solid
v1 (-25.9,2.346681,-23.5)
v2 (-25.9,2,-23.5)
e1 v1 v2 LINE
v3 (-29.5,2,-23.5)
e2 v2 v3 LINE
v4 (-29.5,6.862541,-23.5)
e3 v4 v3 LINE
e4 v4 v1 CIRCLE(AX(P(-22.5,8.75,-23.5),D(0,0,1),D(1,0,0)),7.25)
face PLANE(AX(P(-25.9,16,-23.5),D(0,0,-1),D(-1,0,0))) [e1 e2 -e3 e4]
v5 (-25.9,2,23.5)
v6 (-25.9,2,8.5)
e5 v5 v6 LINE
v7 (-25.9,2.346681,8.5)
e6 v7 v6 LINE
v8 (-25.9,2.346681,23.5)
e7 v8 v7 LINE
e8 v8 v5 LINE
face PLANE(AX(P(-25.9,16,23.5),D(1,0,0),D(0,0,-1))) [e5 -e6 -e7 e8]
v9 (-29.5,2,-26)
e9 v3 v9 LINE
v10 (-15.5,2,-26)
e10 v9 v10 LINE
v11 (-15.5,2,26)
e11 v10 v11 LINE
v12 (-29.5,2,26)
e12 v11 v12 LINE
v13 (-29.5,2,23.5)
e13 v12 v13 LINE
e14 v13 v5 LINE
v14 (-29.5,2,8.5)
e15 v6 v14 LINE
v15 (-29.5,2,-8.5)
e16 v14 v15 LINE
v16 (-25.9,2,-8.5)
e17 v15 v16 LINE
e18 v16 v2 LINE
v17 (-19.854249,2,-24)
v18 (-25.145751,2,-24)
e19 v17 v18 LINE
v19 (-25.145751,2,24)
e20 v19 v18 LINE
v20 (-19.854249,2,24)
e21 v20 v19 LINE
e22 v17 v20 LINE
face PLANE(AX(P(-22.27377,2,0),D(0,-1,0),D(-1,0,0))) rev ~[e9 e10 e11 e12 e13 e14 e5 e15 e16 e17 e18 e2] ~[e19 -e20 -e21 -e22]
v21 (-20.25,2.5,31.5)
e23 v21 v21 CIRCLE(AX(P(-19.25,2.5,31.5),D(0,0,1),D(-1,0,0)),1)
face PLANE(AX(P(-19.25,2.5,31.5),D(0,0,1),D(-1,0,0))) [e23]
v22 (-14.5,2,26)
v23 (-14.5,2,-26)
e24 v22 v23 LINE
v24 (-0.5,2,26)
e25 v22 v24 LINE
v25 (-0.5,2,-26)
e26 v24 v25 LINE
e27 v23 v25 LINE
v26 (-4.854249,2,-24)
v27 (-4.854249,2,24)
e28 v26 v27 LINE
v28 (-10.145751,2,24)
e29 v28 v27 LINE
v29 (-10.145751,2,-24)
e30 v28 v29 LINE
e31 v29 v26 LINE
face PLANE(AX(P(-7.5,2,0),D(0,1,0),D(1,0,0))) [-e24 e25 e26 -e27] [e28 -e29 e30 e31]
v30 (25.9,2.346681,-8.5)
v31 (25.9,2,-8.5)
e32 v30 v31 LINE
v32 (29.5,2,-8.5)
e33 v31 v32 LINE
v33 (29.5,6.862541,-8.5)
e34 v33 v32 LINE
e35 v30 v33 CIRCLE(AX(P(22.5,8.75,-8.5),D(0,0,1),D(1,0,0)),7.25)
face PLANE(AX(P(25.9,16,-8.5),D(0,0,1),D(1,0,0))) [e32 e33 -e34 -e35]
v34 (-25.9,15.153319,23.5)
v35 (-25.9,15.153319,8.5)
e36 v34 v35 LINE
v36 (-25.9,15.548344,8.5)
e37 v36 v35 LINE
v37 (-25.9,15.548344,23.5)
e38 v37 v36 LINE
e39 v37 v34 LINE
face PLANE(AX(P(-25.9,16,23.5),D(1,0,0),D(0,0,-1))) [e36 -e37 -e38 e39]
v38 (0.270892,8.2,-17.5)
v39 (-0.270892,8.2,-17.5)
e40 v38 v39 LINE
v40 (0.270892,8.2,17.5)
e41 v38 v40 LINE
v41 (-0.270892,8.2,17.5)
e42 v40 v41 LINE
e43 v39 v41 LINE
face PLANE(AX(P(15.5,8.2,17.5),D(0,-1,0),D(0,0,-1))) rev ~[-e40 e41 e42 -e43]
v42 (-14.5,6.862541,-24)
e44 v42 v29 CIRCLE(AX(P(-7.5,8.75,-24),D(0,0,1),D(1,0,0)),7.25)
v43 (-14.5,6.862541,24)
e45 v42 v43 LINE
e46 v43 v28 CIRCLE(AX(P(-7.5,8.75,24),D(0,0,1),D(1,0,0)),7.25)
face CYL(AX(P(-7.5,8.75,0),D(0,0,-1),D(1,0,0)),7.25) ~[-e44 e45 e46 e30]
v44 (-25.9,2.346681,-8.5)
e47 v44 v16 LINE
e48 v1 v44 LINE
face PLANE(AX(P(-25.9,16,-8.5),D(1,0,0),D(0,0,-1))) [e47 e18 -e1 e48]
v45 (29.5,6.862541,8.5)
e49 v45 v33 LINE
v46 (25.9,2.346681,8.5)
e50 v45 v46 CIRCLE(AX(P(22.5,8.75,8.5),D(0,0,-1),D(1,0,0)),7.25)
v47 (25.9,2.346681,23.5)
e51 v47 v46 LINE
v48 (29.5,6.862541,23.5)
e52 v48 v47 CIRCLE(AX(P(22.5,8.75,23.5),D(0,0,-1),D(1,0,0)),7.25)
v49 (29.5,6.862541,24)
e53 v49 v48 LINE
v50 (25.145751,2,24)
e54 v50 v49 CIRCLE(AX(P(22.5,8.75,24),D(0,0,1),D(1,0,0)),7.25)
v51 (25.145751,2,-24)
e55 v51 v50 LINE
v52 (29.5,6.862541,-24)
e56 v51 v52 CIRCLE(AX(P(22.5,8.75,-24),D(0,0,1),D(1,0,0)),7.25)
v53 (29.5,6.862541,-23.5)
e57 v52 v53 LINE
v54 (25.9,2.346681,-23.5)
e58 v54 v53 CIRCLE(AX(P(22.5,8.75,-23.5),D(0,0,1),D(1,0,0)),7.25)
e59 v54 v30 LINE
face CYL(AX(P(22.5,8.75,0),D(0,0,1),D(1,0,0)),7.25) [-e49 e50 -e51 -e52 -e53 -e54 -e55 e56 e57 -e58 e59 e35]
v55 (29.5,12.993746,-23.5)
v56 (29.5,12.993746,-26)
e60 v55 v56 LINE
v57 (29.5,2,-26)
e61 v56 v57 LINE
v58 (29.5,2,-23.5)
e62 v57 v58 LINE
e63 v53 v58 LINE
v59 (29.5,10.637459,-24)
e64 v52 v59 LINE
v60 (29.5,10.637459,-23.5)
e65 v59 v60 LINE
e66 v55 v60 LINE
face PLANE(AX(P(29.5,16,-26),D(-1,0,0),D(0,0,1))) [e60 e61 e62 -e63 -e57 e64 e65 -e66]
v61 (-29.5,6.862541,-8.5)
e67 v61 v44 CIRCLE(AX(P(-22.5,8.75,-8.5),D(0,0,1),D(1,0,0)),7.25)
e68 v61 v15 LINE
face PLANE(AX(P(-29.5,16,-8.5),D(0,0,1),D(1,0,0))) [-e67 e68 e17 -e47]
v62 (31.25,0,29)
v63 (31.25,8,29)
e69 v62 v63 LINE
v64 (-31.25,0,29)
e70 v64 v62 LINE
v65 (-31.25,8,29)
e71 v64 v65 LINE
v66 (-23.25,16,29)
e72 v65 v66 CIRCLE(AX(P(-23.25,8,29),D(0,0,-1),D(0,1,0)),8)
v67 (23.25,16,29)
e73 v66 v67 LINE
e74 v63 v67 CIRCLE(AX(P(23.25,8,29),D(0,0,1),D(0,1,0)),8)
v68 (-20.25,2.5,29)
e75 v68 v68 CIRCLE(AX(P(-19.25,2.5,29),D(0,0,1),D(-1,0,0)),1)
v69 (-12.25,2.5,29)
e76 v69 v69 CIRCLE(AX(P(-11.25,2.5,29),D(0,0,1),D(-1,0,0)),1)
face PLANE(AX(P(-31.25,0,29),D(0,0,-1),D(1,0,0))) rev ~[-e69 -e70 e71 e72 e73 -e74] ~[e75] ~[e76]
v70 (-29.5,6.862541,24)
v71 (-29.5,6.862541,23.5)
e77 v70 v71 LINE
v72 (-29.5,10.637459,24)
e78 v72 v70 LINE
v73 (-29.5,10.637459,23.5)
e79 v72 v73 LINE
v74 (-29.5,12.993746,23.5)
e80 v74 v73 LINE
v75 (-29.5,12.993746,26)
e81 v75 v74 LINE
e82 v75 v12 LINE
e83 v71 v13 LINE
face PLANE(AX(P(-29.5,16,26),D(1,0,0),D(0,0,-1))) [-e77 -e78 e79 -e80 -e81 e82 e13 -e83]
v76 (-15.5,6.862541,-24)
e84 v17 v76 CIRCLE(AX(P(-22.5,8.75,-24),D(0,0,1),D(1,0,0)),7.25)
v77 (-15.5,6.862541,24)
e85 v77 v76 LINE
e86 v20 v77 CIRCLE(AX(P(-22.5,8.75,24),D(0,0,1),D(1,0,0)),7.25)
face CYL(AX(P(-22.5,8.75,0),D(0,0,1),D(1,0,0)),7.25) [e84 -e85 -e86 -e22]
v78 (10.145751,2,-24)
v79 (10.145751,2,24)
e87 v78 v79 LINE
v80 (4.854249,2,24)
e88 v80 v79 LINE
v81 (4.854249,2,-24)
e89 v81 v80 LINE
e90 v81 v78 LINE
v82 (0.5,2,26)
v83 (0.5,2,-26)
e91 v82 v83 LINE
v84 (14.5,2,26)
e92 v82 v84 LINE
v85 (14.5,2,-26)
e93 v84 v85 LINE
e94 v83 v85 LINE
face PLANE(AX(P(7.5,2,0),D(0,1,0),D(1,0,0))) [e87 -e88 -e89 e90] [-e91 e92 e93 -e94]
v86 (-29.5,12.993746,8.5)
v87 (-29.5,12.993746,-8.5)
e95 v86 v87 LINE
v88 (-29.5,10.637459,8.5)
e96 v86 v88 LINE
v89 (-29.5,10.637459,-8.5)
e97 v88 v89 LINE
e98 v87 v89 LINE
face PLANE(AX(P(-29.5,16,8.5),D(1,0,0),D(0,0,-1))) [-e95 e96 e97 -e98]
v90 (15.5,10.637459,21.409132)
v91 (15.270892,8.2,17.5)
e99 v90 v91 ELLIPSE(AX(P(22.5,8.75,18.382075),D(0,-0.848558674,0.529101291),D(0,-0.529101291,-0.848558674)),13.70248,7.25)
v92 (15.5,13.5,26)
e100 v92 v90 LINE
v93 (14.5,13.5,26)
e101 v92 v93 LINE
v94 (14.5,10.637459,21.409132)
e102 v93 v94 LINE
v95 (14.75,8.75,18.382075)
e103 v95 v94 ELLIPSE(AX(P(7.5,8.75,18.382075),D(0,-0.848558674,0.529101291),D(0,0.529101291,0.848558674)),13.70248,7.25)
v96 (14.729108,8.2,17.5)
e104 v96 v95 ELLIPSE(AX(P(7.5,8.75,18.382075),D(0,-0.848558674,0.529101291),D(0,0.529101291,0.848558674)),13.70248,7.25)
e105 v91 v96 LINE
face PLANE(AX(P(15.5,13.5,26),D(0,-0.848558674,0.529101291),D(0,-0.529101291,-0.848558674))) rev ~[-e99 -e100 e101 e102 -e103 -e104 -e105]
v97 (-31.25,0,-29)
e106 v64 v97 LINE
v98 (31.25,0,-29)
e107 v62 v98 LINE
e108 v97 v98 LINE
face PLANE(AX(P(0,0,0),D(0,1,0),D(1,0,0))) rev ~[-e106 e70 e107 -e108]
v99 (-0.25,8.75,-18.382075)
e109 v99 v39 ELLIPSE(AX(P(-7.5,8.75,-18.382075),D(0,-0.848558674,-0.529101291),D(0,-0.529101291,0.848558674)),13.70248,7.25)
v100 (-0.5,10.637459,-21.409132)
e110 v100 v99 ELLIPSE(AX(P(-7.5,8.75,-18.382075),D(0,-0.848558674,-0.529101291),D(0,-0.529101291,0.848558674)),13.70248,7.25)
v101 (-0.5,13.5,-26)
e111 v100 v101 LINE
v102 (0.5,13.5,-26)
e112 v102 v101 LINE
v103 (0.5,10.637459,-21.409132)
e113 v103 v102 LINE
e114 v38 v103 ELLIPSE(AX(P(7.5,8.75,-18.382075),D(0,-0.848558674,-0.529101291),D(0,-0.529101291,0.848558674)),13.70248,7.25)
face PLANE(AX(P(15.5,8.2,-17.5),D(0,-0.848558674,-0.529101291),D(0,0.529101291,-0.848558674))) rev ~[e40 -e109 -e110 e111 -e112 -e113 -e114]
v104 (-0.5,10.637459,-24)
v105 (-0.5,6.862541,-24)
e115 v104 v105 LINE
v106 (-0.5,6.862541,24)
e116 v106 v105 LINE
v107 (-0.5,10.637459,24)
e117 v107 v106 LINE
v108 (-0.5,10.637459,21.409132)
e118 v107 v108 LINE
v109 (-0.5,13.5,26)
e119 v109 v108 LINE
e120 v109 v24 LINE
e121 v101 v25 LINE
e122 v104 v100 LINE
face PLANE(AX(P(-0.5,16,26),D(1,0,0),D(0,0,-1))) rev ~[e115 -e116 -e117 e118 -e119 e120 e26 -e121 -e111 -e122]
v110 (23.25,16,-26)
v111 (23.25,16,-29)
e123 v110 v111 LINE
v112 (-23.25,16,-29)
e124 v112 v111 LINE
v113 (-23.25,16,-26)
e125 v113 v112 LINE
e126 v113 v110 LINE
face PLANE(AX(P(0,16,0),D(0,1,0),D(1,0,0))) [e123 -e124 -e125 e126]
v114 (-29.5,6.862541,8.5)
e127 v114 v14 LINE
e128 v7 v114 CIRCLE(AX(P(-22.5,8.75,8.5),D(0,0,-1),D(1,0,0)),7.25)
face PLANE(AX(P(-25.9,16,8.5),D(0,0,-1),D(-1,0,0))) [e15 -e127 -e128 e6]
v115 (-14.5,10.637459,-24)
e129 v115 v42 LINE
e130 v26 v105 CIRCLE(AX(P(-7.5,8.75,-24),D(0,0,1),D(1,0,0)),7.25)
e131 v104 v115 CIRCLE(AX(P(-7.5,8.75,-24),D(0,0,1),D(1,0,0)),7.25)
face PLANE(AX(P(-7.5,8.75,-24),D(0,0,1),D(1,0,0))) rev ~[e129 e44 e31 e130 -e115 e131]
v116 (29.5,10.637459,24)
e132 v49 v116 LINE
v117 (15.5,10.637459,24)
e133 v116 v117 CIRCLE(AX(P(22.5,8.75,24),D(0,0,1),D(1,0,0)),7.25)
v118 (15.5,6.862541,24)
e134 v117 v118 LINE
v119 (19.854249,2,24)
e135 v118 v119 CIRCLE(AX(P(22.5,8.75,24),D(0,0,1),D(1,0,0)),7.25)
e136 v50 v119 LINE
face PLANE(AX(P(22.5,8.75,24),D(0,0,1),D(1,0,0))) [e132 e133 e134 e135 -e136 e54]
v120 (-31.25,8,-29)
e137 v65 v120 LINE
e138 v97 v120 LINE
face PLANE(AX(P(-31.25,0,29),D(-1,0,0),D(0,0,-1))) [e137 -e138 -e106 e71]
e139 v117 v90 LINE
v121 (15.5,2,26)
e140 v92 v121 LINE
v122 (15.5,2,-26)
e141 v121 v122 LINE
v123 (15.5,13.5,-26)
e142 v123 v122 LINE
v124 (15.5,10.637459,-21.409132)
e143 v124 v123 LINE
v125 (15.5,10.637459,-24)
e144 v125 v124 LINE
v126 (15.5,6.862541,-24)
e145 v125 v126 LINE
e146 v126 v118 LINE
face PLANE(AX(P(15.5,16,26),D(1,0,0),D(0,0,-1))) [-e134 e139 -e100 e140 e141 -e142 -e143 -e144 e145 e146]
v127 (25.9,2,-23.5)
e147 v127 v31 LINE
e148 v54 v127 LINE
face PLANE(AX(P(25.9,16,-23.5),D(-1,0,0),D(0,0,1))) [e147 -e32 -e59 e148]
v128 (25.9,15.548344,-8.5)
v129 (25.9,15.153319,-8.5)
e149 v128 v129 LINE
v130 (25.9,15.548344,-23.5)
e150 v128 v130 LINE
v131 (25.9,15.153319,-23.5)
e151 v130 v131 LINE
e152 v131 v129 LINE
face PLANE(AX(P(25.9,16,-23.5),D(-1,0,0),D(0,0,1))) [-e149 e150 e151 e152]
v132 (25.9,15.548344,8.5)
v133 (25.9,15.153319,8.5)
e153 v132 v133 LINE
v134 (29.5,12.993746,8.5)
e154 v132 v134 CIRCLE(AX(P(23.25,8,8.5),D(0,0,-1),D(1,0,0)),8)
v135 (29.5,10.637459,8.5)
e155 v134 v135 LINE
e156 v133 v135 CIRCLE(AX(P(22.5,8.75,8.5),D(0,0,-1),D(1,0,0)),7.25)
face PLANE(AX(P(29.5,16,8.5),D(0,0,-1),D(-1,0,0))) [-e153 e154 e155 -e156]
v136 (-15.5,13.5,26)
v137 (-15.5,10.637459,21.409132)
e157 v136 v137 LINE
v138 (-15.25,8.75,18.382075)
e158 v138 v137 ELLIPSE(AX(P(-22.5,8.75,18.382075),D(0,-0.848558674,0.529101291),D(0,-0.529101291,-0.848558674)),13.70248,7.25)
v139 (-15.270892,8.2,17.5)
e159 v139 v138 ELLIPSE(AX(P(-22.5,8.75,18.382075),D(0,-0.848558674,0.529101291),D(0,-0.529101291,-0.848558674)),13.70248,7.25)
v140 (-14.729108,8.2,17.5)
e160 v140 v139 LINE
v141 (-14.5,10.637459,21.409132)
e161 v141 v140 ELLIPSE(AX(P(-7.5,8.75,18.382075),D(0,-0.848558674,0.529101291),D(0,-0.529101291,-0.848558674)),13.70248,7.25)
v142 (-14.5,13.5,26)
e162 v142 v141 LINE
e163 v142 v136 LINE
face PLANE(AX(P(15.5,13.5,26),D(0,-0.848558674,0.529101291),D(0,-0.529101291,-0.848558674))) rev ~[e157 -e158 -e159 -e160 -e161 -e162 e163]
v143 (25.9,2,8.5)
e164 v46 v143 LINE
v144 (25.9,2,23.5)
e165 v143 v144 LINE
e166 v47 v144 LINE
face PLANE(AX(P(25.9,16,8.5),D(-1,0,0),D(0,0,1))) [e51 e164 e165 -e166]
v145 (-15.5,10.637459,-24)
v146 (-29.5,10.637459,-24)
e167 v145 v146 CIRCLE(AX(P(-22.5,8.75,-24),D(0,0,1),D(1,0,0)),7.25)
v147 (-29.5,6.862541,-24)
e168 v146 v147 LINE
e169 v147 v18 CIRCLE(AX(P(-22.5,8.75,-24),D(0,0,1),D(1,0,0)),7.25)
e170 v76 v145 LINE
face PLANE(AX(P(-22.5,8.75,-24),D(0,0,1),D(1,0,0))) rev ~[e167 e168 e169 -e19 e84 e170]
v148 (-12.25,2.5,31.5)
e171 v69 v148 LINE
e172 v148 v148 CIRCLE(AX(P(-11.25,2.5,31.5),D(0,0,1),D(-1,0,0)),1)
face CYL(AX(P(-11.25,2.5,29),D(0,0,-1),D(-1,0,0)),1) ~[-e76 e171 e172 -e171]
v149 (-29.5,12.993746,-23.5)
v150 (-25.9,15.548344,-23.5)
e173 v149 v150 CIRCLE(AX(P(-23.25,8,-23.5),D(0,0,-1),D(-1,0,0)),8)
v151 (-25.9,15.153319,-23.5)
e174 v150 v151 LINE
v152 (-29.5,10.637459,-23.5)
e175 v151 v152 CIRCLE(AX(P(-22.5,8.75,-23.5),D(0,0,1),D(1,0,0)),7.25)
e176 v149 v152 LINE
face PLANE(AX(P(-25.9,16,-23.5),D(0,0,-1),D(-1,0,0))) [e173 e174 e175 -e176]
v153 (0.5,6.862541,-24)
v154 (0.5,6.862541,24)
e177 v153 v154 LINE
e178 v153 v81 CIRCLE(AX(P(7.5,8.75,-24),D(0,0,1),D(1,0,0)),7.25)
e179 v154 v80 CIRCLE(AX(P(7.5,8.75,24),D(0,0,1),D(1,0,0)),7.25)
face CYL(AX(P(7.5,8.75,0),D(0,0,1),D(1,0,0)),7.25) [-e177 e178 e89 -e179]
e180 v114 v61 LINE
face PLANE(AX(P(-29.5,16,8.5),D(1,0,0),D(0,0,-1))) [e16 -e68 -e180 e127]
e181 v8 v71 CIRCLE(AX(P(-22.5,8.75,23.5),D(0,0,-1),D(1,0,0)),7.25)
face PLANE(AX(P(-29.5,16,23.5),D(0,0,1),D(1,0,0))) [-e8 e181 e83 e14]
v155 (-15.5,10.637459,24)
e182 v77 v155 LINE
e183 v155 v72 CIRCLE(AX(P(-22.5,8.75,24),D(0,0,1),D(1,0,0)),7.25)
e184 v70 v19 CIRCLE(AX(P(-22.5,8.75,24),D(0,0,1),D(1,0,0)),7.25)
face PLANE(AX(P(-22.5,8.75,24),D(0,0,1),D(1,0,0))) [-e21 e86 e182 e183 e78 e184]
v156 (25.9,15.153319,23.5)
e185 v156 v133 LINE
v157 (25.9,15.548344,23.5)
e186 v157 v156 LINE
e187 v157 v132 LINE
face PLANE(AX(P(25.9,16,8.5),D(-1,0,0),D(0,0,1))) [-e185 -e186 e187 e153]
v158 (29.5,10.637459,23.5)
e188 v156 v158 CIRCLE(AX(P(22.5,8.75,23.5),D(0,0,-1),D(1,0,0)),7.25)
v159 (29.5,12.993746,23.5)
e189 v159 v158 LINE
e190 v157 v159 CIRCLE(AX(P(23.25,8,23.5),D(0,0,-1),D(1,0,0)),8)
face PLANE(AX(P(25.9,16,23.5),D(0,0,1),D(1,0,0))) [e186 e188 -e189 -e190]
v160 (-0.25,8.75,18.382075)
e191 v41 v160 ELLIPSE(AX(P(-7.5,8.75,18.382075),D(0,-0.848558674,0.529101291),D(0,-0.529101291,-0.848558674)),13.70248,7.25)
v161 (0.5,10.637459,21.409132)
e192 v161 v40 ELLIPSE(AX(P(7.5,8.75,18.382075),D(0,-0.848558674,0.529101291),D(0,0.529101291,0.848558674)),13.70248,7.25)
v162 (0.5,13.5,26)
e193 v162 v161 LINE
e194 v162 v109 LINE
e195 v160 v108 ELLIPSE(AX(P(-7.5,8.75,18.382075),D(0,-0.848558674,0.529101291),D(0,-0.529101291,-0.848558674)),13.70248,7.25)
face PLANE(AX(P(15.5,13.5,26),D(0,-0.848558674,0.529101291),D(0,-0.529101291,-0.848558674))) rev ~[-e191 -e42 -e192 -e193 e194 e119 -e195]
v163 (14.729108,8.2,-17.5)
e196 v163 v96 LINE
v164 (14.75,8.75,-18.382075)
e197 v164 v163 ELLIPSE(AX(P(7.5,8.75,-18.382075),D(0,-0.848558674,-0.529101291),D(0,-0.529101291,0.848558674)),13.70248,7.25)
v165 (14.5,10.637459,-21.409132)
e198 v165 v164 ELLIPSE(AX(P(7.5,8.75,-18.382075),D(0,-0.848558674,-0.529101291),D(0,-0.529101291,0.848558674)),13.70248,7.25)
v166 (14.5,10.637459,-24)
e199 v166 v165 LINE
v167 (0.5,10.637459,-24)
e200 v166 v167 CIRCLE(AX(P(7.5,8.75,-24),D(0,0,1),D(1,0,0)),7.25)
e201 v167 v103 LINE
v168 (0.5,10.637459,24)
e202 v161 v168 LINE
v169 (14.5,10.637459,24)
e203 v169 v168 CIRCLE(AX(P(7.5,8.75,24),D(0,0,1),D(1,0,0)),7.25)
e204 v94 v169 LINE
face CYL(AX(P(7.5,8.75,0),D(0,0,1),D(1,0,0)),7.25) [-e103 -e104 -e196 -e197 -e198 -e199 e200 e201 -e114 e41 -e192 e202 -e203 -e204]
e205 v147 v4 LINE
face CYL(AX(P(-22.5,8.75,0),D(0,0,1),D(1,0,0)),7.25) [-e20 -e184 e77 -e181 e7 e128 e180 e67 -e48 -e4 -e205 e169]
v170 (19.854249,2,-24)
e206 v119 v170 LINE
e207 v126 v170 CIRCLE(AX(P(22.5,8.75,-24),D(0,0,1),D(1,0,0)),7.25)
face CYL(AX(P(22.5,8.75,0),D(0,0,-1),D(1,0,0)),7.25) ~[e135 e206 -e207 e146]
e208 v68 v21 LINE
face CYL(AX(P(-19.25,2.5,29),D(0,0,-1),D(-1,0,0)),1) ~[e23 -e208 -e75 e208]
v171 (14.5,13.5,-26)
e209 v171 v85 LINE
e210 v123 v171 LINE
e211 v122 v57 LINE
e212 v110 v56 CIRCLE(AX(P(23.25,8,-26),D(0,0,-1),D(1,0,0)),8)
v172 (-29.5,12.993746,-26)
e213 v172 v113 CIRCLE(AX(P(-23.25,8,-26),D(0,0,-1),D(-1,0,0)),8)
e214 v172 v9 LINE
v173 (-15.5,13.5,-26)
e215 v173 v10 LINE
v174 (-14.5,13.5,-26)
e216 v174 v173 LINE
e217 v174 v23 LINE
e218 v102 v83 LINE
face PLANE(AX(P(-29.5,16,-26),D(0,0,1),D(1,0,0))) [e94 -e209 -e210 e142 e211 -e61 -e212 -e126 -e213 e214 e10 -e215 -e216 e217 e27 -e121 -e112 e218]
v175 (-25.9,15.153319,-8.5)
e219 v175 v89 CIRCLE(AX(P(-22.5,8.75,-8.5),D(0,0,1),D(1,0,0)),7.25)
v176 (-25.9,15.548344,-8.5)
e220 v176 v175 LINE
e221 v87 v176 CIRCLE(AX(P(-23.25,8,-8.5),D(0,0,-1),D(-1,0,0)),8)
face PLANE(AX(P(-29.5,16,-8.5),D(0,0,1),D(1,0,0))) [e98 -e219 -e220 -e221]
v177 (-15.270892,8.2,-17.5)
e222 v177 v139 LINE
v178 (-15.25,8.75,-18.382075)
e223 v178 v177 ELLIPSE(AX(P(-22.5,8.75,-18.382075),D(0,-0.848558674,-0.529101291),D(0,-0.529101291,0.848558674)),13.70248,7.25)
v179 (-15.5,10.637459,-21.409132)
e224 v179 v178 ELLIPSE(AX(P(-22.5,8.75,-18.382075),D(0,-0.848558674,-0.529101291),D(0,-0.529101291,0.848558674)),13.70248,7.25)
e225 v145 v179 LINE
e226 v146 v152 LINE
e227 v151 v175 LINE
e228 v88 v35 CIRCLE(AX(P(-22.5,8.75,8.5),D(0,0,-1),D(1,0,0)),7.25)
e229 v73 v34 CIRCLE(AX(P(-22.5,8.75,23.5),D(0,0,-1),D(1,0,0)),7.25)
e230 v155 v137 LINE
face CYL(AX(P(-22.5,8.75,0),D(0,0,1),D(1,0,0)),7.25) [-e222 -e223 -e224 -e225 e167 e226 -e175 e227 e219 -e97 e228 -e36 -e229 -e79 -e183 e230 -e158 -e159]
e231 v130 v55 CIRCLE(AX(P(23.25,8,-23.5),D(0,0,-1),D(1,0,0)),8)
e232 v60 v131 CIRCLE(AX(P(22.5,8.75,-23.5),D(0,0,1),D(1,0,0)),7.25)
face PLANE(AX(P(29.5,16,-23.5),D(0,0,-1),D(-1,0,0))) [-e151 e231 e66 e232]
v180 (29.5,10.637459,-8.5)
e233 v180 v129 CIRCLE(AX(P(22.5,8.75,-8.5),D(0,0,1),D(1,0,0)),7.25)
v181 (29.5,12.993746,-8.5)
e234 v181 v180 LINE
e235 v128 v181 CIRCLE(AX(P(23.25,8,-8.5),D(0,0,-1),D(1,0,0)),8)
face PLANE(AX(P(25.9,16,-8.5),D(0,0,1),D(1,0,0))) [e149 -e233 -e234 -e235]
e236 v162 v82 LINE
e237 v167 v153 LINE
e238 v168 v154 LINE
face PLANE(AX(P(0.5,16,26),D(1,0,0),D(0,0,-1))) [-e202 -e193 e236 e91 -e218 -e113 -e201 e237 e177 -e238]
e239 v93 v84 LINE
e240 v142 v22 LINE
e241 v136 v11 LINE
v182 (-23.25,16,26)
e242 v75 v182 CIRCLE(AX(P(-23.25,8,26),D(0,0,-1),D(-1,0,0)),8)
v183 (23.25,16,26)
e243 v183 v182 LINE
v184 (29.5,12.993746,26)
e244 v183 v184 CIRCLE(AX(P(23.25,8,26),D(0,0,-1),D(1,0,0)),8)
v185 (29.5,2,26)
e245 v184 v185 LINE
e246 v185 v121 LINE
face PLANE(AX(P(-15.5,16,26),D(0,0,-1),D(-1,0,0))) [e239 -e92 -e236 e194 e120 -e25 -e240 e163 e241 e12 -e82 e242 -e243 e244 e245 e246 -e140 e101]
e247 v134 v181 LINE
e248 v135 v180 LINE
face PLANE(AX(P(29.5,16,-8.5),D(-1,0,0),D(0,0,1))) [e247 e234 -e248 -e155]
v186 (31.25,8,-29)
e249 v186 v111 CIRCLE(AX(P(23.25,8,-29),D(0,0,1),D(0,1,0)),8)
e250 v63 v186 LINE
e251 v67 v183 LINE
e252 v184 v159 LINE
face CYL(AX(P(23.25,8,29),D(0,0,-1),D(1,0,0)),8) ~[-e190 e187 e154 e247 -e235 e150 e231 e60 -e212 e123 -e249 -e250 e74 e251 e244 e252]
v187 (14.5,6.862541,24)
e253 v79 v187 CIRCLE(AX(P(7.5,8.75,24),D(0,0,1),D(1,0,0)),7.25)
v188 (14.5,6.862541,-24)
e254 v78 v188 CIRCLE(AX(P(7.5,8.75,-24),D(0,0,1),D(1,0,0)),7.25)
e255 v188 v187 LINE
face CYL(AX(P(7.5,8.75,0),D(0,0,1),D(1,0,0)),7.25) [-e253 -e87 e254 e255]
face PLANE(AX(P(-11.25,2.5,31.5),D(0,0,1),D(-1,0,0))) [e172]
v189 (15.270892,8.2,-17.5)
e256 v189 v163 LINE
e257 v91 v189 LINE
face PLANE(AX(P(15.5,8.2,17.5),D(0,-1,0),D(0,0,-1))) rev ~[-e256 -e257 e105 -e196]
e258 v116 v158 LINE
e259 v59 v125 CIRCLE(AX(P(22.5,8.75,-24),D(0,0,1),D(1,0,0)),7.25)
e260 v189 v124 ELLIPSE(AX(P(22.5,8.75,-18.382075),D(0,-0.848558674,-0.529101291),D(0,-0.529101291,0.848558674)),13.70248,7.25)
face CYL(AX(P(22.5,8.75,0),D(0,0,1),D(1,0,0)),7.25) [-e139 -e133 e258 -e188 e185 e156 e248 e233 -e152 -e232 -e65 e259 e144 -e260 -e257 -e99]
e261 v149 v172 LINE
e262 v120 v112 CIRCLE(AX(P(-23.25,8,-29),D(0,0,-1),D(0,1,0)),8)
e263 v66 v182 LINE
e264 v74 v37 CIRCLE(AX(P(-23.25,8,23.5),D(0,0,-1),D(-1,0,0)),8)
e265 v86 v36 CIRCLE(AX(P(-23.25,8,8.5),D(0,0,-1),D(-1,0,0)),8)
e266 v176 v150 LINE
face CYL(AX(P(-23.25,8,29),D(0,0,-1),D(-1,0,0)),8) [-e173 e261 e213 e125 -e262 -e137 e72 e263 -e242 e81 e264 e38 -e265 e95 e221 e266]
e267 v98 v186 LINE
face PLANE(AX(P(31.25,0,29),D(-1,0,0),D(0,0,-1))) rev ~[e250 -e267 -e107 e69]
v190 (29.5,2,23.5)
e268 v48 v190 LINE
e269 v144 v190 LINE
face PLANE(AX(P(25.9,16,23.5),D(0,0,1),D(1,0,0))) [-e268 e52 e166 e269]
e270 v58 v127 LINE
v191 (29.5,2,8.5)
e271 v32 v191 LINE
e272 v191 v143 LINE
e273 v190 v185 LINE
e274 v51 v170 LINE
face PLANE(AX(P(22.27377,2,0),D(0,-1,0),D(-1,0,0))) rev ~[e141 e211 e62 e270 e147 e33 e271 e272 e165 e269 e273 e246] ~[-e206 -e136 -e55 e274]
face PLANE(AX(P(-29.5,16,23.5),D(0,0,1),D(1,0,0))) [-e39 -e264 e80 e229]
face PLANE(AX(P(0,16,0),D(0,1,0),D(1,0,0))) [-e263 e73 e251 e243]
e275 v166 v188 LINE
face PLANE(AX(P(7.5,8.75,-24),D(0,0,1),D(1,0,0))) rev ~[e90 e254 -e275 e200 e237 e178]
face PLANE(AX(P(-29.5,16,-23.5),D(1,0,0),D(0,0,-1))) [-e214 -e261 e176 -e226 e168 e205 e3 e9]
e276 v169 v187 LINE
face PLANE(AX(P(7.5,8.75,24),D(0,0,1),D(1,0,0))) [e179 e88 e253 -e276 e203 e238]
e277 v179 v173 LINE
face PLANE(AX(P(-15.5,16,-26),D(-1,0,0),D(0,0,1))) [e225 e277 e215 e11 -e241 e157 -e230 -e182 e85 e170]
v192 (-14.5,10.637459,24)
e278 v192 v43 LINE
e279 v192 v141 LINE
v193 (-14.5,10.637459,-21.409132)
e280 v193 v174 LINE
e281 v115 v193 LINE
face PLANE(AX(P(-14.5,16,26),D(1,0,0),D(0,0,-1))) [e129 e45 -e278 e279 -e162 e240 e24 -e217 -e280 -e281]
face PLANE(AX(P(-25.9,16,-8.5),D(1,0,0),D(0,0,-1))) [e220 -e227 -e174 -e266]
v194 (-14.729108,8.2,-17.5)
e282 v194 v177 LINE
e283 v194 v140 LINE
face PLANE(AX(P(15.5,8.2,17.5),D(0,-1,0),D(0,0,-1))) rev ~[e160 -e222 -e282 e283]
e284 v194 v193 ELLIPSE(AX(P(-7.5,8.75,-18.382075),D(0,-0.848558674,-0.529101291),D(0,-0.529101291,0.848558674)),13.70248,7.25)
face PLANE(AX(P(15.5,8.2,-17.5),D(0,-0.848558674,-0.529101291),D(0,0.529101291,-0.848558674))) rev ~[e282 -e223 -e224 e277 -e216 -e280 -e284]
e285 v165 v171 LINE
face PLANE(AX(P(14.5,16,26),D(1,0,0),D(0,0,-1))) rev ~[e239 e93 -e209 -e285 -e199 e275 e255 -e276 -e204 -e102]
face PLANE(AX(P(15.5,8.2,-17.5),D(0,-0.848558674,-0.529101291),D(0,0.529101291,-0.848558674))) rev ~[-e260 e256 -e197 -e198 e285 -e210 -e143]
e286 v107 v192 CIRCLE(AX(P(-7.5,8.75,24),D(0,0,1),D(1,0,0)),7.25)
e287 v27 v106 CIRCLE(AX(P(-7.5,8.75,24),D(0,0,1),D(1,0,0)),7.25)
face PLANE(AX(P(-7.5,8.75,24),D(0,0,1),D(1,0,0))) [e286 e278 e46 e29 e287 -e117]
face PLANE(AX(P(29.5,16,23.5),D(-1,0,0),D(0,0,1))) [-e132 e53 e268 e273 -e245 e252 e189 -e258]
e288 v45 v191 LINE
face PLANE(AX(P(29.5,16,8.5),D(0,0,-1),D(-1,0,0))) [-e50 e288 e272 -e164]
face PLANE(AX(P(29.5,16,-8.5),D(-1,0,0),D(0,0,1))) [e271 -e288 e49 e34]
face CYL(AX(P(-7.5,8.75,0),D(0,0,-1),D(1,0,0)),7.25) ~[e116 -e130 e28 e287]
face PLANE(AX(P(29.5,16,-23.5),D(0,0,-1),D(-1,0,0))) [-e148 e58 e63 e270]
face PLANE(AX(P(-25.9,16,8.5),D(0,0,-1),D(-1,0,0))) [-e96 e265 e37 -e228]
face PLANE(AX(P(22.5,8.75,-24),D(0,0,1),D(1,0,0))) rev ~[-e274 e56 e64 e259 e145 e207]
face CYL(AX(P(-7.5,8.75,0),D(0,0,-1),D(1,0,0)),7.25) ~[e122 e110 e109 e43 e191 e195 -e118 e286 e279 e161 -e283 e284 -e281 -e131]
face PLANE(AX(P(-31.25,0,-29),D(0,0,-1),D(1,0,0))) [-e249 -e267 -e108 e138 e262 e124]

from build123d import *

# Parameters (mm, degrees)
SKETCH1_W           = 62.5
SKETCH1_H           = 58
BOSS_EXTRUDE1_DEPTH = 16
FILLET1_R           = 8
SKETCH2_W           = 14
SKETCH2_H           = 52
CUT_EXTRUDE1_DEPTH  = 14
CUT_EXTRUDE2_REACH  = 59.294
SKETCH4_R           = 7.25
BOSS_EXTRUDE3_DEPTH = 24
SKETCH6_R           = 1
BOSS_EXTRUDE5_DEPTH = 2.5


with BuildPart() as part:
    # Sketch1 → Boss-Extrude1 (new body)
    with BuildSketch(Plane(origin=(0, 0, 0), x_dir=(1, 0, 0), z_dir=(0, 1, 0))):
        Rectangle(SKETCH1_W, SKETCH1_H)
    extrude(amount=BOSS_EXTRUDE1_DEPTH)

    # Fillet1
    fillet1_edges = [part.edges().sort_by_distance(p)[0] for p in [
        (-31.25, 16, 0),
        (31.25, 16, 0),
    ]]
    fillet(fillet1_edges, radius=FILLET1_R)

    # Sketch2 → Cut-Extrude1 (cut)
    with BuildSketch(Plane(origin=(0, 16, 0), x_dir=(1, 0, 0), z_dir=(0, 1, 0))):
        Polygon((-29.5, 26), (-15.5, 26), (-15.5, -26), (-29.5, -26), (-29.5, -23.5), (-25.9, -23.5), (-25.9, -8.5), (-29.5, -8.5), (-29.5, 8.5), (-25.9, 8.5), (-25.9, 23.5), (-29.5, 23.5), align=None)
        with Locations((-7.5, 0)):
            Rectangle(SKETCH2_W, SKETCH2_H)
        Polygon((15.5, 26), (29.5, 26), (29.5, 23.5), (25.9, 23.5), (25.9, 8.5), (29.5, 8.5), (29.5, -8.5), (25.9, -8.5), (25.9, -23.5), (29.5, -23.5), (29.5, -26), (15.5, -26), align=None)
        with Locations((7.5, 0)):
            Rectangle(SKETCH2_W, SKETCH2_H)
    extrude(amount=-CUT_EXTRUDE1_DEPTH, mode=Mode.SUBTRACT)

    # Cut-Extrude2: up to this face of the body (flat: up to its plane)
    cut_extrude2_end = Plane(part.part.faces().sort_by_distance((-15.5, 9, 0))[0])
    # Sketch3 → Cut-Extrude2 (cut, up to the picked face)
    with BuildSketch(Plane(origin=(15.5, 0, 0), x_dir=(0, 0, -1), z_dir=(1, 0, 0)), mode=Mode.PRIVATE) as cut_extrude2_sk1:
        Polygon((-26, 16), (-26, 13.5), (-17.5, 8.2), (17.5, 8.2), (26, 13.5), (26, 16), align=None)
    cut_extrude2_tool1 = split(extrude(cut_extrude2_sk1.sketch, amount=-CUT_EXTRUDE2_REACH, mode=Mode.PRIVATE), bisect_by=cut_extrude2_end, keep=Keep.BOTH, mode=Mode.PRIVATE)
    add(cut_extrude2_tool1.solids().sort_by(Axis((15.5, 12.366556, 0), (-1, 0, 0)))[0], mode=Mode.SUBTRACT)

    # Sketch4 → Boss-Extrude3 (add, symmetric)
    with BuildSketch(Plane.XY):
        with Locations((-22.5, 8.75)):
            Circle(SKETCH4_R)
        with Locations((-7.5, 8.75)):
            Circle(SKETCH4_R)
        with Locations((22.5, 8.75)):
            Circle(SKETCH4_R)
        with Locations((7.5, 8.75)):
            Circle(SKETCH4_R)
    extrude(amount=BOSS_EXTRUDE3_DEPTH, both=True)

    # Sketch6 → Boss-Extrude5 (add)
    with BuildSketch(Plane.XY.offset(29)):
        with Locations(Location((-19.25, 2.5, 0), (0, 0, 180))):
            Circle(SKETCH6_R)
        with Locations(Location((-11.25, 2.5, 0), (0, 0, 180))):
            Circle(SKETCH6_R)
    extrude(amount=BOSS_EXTRUDE5_DEPTH)


solid = part.part
